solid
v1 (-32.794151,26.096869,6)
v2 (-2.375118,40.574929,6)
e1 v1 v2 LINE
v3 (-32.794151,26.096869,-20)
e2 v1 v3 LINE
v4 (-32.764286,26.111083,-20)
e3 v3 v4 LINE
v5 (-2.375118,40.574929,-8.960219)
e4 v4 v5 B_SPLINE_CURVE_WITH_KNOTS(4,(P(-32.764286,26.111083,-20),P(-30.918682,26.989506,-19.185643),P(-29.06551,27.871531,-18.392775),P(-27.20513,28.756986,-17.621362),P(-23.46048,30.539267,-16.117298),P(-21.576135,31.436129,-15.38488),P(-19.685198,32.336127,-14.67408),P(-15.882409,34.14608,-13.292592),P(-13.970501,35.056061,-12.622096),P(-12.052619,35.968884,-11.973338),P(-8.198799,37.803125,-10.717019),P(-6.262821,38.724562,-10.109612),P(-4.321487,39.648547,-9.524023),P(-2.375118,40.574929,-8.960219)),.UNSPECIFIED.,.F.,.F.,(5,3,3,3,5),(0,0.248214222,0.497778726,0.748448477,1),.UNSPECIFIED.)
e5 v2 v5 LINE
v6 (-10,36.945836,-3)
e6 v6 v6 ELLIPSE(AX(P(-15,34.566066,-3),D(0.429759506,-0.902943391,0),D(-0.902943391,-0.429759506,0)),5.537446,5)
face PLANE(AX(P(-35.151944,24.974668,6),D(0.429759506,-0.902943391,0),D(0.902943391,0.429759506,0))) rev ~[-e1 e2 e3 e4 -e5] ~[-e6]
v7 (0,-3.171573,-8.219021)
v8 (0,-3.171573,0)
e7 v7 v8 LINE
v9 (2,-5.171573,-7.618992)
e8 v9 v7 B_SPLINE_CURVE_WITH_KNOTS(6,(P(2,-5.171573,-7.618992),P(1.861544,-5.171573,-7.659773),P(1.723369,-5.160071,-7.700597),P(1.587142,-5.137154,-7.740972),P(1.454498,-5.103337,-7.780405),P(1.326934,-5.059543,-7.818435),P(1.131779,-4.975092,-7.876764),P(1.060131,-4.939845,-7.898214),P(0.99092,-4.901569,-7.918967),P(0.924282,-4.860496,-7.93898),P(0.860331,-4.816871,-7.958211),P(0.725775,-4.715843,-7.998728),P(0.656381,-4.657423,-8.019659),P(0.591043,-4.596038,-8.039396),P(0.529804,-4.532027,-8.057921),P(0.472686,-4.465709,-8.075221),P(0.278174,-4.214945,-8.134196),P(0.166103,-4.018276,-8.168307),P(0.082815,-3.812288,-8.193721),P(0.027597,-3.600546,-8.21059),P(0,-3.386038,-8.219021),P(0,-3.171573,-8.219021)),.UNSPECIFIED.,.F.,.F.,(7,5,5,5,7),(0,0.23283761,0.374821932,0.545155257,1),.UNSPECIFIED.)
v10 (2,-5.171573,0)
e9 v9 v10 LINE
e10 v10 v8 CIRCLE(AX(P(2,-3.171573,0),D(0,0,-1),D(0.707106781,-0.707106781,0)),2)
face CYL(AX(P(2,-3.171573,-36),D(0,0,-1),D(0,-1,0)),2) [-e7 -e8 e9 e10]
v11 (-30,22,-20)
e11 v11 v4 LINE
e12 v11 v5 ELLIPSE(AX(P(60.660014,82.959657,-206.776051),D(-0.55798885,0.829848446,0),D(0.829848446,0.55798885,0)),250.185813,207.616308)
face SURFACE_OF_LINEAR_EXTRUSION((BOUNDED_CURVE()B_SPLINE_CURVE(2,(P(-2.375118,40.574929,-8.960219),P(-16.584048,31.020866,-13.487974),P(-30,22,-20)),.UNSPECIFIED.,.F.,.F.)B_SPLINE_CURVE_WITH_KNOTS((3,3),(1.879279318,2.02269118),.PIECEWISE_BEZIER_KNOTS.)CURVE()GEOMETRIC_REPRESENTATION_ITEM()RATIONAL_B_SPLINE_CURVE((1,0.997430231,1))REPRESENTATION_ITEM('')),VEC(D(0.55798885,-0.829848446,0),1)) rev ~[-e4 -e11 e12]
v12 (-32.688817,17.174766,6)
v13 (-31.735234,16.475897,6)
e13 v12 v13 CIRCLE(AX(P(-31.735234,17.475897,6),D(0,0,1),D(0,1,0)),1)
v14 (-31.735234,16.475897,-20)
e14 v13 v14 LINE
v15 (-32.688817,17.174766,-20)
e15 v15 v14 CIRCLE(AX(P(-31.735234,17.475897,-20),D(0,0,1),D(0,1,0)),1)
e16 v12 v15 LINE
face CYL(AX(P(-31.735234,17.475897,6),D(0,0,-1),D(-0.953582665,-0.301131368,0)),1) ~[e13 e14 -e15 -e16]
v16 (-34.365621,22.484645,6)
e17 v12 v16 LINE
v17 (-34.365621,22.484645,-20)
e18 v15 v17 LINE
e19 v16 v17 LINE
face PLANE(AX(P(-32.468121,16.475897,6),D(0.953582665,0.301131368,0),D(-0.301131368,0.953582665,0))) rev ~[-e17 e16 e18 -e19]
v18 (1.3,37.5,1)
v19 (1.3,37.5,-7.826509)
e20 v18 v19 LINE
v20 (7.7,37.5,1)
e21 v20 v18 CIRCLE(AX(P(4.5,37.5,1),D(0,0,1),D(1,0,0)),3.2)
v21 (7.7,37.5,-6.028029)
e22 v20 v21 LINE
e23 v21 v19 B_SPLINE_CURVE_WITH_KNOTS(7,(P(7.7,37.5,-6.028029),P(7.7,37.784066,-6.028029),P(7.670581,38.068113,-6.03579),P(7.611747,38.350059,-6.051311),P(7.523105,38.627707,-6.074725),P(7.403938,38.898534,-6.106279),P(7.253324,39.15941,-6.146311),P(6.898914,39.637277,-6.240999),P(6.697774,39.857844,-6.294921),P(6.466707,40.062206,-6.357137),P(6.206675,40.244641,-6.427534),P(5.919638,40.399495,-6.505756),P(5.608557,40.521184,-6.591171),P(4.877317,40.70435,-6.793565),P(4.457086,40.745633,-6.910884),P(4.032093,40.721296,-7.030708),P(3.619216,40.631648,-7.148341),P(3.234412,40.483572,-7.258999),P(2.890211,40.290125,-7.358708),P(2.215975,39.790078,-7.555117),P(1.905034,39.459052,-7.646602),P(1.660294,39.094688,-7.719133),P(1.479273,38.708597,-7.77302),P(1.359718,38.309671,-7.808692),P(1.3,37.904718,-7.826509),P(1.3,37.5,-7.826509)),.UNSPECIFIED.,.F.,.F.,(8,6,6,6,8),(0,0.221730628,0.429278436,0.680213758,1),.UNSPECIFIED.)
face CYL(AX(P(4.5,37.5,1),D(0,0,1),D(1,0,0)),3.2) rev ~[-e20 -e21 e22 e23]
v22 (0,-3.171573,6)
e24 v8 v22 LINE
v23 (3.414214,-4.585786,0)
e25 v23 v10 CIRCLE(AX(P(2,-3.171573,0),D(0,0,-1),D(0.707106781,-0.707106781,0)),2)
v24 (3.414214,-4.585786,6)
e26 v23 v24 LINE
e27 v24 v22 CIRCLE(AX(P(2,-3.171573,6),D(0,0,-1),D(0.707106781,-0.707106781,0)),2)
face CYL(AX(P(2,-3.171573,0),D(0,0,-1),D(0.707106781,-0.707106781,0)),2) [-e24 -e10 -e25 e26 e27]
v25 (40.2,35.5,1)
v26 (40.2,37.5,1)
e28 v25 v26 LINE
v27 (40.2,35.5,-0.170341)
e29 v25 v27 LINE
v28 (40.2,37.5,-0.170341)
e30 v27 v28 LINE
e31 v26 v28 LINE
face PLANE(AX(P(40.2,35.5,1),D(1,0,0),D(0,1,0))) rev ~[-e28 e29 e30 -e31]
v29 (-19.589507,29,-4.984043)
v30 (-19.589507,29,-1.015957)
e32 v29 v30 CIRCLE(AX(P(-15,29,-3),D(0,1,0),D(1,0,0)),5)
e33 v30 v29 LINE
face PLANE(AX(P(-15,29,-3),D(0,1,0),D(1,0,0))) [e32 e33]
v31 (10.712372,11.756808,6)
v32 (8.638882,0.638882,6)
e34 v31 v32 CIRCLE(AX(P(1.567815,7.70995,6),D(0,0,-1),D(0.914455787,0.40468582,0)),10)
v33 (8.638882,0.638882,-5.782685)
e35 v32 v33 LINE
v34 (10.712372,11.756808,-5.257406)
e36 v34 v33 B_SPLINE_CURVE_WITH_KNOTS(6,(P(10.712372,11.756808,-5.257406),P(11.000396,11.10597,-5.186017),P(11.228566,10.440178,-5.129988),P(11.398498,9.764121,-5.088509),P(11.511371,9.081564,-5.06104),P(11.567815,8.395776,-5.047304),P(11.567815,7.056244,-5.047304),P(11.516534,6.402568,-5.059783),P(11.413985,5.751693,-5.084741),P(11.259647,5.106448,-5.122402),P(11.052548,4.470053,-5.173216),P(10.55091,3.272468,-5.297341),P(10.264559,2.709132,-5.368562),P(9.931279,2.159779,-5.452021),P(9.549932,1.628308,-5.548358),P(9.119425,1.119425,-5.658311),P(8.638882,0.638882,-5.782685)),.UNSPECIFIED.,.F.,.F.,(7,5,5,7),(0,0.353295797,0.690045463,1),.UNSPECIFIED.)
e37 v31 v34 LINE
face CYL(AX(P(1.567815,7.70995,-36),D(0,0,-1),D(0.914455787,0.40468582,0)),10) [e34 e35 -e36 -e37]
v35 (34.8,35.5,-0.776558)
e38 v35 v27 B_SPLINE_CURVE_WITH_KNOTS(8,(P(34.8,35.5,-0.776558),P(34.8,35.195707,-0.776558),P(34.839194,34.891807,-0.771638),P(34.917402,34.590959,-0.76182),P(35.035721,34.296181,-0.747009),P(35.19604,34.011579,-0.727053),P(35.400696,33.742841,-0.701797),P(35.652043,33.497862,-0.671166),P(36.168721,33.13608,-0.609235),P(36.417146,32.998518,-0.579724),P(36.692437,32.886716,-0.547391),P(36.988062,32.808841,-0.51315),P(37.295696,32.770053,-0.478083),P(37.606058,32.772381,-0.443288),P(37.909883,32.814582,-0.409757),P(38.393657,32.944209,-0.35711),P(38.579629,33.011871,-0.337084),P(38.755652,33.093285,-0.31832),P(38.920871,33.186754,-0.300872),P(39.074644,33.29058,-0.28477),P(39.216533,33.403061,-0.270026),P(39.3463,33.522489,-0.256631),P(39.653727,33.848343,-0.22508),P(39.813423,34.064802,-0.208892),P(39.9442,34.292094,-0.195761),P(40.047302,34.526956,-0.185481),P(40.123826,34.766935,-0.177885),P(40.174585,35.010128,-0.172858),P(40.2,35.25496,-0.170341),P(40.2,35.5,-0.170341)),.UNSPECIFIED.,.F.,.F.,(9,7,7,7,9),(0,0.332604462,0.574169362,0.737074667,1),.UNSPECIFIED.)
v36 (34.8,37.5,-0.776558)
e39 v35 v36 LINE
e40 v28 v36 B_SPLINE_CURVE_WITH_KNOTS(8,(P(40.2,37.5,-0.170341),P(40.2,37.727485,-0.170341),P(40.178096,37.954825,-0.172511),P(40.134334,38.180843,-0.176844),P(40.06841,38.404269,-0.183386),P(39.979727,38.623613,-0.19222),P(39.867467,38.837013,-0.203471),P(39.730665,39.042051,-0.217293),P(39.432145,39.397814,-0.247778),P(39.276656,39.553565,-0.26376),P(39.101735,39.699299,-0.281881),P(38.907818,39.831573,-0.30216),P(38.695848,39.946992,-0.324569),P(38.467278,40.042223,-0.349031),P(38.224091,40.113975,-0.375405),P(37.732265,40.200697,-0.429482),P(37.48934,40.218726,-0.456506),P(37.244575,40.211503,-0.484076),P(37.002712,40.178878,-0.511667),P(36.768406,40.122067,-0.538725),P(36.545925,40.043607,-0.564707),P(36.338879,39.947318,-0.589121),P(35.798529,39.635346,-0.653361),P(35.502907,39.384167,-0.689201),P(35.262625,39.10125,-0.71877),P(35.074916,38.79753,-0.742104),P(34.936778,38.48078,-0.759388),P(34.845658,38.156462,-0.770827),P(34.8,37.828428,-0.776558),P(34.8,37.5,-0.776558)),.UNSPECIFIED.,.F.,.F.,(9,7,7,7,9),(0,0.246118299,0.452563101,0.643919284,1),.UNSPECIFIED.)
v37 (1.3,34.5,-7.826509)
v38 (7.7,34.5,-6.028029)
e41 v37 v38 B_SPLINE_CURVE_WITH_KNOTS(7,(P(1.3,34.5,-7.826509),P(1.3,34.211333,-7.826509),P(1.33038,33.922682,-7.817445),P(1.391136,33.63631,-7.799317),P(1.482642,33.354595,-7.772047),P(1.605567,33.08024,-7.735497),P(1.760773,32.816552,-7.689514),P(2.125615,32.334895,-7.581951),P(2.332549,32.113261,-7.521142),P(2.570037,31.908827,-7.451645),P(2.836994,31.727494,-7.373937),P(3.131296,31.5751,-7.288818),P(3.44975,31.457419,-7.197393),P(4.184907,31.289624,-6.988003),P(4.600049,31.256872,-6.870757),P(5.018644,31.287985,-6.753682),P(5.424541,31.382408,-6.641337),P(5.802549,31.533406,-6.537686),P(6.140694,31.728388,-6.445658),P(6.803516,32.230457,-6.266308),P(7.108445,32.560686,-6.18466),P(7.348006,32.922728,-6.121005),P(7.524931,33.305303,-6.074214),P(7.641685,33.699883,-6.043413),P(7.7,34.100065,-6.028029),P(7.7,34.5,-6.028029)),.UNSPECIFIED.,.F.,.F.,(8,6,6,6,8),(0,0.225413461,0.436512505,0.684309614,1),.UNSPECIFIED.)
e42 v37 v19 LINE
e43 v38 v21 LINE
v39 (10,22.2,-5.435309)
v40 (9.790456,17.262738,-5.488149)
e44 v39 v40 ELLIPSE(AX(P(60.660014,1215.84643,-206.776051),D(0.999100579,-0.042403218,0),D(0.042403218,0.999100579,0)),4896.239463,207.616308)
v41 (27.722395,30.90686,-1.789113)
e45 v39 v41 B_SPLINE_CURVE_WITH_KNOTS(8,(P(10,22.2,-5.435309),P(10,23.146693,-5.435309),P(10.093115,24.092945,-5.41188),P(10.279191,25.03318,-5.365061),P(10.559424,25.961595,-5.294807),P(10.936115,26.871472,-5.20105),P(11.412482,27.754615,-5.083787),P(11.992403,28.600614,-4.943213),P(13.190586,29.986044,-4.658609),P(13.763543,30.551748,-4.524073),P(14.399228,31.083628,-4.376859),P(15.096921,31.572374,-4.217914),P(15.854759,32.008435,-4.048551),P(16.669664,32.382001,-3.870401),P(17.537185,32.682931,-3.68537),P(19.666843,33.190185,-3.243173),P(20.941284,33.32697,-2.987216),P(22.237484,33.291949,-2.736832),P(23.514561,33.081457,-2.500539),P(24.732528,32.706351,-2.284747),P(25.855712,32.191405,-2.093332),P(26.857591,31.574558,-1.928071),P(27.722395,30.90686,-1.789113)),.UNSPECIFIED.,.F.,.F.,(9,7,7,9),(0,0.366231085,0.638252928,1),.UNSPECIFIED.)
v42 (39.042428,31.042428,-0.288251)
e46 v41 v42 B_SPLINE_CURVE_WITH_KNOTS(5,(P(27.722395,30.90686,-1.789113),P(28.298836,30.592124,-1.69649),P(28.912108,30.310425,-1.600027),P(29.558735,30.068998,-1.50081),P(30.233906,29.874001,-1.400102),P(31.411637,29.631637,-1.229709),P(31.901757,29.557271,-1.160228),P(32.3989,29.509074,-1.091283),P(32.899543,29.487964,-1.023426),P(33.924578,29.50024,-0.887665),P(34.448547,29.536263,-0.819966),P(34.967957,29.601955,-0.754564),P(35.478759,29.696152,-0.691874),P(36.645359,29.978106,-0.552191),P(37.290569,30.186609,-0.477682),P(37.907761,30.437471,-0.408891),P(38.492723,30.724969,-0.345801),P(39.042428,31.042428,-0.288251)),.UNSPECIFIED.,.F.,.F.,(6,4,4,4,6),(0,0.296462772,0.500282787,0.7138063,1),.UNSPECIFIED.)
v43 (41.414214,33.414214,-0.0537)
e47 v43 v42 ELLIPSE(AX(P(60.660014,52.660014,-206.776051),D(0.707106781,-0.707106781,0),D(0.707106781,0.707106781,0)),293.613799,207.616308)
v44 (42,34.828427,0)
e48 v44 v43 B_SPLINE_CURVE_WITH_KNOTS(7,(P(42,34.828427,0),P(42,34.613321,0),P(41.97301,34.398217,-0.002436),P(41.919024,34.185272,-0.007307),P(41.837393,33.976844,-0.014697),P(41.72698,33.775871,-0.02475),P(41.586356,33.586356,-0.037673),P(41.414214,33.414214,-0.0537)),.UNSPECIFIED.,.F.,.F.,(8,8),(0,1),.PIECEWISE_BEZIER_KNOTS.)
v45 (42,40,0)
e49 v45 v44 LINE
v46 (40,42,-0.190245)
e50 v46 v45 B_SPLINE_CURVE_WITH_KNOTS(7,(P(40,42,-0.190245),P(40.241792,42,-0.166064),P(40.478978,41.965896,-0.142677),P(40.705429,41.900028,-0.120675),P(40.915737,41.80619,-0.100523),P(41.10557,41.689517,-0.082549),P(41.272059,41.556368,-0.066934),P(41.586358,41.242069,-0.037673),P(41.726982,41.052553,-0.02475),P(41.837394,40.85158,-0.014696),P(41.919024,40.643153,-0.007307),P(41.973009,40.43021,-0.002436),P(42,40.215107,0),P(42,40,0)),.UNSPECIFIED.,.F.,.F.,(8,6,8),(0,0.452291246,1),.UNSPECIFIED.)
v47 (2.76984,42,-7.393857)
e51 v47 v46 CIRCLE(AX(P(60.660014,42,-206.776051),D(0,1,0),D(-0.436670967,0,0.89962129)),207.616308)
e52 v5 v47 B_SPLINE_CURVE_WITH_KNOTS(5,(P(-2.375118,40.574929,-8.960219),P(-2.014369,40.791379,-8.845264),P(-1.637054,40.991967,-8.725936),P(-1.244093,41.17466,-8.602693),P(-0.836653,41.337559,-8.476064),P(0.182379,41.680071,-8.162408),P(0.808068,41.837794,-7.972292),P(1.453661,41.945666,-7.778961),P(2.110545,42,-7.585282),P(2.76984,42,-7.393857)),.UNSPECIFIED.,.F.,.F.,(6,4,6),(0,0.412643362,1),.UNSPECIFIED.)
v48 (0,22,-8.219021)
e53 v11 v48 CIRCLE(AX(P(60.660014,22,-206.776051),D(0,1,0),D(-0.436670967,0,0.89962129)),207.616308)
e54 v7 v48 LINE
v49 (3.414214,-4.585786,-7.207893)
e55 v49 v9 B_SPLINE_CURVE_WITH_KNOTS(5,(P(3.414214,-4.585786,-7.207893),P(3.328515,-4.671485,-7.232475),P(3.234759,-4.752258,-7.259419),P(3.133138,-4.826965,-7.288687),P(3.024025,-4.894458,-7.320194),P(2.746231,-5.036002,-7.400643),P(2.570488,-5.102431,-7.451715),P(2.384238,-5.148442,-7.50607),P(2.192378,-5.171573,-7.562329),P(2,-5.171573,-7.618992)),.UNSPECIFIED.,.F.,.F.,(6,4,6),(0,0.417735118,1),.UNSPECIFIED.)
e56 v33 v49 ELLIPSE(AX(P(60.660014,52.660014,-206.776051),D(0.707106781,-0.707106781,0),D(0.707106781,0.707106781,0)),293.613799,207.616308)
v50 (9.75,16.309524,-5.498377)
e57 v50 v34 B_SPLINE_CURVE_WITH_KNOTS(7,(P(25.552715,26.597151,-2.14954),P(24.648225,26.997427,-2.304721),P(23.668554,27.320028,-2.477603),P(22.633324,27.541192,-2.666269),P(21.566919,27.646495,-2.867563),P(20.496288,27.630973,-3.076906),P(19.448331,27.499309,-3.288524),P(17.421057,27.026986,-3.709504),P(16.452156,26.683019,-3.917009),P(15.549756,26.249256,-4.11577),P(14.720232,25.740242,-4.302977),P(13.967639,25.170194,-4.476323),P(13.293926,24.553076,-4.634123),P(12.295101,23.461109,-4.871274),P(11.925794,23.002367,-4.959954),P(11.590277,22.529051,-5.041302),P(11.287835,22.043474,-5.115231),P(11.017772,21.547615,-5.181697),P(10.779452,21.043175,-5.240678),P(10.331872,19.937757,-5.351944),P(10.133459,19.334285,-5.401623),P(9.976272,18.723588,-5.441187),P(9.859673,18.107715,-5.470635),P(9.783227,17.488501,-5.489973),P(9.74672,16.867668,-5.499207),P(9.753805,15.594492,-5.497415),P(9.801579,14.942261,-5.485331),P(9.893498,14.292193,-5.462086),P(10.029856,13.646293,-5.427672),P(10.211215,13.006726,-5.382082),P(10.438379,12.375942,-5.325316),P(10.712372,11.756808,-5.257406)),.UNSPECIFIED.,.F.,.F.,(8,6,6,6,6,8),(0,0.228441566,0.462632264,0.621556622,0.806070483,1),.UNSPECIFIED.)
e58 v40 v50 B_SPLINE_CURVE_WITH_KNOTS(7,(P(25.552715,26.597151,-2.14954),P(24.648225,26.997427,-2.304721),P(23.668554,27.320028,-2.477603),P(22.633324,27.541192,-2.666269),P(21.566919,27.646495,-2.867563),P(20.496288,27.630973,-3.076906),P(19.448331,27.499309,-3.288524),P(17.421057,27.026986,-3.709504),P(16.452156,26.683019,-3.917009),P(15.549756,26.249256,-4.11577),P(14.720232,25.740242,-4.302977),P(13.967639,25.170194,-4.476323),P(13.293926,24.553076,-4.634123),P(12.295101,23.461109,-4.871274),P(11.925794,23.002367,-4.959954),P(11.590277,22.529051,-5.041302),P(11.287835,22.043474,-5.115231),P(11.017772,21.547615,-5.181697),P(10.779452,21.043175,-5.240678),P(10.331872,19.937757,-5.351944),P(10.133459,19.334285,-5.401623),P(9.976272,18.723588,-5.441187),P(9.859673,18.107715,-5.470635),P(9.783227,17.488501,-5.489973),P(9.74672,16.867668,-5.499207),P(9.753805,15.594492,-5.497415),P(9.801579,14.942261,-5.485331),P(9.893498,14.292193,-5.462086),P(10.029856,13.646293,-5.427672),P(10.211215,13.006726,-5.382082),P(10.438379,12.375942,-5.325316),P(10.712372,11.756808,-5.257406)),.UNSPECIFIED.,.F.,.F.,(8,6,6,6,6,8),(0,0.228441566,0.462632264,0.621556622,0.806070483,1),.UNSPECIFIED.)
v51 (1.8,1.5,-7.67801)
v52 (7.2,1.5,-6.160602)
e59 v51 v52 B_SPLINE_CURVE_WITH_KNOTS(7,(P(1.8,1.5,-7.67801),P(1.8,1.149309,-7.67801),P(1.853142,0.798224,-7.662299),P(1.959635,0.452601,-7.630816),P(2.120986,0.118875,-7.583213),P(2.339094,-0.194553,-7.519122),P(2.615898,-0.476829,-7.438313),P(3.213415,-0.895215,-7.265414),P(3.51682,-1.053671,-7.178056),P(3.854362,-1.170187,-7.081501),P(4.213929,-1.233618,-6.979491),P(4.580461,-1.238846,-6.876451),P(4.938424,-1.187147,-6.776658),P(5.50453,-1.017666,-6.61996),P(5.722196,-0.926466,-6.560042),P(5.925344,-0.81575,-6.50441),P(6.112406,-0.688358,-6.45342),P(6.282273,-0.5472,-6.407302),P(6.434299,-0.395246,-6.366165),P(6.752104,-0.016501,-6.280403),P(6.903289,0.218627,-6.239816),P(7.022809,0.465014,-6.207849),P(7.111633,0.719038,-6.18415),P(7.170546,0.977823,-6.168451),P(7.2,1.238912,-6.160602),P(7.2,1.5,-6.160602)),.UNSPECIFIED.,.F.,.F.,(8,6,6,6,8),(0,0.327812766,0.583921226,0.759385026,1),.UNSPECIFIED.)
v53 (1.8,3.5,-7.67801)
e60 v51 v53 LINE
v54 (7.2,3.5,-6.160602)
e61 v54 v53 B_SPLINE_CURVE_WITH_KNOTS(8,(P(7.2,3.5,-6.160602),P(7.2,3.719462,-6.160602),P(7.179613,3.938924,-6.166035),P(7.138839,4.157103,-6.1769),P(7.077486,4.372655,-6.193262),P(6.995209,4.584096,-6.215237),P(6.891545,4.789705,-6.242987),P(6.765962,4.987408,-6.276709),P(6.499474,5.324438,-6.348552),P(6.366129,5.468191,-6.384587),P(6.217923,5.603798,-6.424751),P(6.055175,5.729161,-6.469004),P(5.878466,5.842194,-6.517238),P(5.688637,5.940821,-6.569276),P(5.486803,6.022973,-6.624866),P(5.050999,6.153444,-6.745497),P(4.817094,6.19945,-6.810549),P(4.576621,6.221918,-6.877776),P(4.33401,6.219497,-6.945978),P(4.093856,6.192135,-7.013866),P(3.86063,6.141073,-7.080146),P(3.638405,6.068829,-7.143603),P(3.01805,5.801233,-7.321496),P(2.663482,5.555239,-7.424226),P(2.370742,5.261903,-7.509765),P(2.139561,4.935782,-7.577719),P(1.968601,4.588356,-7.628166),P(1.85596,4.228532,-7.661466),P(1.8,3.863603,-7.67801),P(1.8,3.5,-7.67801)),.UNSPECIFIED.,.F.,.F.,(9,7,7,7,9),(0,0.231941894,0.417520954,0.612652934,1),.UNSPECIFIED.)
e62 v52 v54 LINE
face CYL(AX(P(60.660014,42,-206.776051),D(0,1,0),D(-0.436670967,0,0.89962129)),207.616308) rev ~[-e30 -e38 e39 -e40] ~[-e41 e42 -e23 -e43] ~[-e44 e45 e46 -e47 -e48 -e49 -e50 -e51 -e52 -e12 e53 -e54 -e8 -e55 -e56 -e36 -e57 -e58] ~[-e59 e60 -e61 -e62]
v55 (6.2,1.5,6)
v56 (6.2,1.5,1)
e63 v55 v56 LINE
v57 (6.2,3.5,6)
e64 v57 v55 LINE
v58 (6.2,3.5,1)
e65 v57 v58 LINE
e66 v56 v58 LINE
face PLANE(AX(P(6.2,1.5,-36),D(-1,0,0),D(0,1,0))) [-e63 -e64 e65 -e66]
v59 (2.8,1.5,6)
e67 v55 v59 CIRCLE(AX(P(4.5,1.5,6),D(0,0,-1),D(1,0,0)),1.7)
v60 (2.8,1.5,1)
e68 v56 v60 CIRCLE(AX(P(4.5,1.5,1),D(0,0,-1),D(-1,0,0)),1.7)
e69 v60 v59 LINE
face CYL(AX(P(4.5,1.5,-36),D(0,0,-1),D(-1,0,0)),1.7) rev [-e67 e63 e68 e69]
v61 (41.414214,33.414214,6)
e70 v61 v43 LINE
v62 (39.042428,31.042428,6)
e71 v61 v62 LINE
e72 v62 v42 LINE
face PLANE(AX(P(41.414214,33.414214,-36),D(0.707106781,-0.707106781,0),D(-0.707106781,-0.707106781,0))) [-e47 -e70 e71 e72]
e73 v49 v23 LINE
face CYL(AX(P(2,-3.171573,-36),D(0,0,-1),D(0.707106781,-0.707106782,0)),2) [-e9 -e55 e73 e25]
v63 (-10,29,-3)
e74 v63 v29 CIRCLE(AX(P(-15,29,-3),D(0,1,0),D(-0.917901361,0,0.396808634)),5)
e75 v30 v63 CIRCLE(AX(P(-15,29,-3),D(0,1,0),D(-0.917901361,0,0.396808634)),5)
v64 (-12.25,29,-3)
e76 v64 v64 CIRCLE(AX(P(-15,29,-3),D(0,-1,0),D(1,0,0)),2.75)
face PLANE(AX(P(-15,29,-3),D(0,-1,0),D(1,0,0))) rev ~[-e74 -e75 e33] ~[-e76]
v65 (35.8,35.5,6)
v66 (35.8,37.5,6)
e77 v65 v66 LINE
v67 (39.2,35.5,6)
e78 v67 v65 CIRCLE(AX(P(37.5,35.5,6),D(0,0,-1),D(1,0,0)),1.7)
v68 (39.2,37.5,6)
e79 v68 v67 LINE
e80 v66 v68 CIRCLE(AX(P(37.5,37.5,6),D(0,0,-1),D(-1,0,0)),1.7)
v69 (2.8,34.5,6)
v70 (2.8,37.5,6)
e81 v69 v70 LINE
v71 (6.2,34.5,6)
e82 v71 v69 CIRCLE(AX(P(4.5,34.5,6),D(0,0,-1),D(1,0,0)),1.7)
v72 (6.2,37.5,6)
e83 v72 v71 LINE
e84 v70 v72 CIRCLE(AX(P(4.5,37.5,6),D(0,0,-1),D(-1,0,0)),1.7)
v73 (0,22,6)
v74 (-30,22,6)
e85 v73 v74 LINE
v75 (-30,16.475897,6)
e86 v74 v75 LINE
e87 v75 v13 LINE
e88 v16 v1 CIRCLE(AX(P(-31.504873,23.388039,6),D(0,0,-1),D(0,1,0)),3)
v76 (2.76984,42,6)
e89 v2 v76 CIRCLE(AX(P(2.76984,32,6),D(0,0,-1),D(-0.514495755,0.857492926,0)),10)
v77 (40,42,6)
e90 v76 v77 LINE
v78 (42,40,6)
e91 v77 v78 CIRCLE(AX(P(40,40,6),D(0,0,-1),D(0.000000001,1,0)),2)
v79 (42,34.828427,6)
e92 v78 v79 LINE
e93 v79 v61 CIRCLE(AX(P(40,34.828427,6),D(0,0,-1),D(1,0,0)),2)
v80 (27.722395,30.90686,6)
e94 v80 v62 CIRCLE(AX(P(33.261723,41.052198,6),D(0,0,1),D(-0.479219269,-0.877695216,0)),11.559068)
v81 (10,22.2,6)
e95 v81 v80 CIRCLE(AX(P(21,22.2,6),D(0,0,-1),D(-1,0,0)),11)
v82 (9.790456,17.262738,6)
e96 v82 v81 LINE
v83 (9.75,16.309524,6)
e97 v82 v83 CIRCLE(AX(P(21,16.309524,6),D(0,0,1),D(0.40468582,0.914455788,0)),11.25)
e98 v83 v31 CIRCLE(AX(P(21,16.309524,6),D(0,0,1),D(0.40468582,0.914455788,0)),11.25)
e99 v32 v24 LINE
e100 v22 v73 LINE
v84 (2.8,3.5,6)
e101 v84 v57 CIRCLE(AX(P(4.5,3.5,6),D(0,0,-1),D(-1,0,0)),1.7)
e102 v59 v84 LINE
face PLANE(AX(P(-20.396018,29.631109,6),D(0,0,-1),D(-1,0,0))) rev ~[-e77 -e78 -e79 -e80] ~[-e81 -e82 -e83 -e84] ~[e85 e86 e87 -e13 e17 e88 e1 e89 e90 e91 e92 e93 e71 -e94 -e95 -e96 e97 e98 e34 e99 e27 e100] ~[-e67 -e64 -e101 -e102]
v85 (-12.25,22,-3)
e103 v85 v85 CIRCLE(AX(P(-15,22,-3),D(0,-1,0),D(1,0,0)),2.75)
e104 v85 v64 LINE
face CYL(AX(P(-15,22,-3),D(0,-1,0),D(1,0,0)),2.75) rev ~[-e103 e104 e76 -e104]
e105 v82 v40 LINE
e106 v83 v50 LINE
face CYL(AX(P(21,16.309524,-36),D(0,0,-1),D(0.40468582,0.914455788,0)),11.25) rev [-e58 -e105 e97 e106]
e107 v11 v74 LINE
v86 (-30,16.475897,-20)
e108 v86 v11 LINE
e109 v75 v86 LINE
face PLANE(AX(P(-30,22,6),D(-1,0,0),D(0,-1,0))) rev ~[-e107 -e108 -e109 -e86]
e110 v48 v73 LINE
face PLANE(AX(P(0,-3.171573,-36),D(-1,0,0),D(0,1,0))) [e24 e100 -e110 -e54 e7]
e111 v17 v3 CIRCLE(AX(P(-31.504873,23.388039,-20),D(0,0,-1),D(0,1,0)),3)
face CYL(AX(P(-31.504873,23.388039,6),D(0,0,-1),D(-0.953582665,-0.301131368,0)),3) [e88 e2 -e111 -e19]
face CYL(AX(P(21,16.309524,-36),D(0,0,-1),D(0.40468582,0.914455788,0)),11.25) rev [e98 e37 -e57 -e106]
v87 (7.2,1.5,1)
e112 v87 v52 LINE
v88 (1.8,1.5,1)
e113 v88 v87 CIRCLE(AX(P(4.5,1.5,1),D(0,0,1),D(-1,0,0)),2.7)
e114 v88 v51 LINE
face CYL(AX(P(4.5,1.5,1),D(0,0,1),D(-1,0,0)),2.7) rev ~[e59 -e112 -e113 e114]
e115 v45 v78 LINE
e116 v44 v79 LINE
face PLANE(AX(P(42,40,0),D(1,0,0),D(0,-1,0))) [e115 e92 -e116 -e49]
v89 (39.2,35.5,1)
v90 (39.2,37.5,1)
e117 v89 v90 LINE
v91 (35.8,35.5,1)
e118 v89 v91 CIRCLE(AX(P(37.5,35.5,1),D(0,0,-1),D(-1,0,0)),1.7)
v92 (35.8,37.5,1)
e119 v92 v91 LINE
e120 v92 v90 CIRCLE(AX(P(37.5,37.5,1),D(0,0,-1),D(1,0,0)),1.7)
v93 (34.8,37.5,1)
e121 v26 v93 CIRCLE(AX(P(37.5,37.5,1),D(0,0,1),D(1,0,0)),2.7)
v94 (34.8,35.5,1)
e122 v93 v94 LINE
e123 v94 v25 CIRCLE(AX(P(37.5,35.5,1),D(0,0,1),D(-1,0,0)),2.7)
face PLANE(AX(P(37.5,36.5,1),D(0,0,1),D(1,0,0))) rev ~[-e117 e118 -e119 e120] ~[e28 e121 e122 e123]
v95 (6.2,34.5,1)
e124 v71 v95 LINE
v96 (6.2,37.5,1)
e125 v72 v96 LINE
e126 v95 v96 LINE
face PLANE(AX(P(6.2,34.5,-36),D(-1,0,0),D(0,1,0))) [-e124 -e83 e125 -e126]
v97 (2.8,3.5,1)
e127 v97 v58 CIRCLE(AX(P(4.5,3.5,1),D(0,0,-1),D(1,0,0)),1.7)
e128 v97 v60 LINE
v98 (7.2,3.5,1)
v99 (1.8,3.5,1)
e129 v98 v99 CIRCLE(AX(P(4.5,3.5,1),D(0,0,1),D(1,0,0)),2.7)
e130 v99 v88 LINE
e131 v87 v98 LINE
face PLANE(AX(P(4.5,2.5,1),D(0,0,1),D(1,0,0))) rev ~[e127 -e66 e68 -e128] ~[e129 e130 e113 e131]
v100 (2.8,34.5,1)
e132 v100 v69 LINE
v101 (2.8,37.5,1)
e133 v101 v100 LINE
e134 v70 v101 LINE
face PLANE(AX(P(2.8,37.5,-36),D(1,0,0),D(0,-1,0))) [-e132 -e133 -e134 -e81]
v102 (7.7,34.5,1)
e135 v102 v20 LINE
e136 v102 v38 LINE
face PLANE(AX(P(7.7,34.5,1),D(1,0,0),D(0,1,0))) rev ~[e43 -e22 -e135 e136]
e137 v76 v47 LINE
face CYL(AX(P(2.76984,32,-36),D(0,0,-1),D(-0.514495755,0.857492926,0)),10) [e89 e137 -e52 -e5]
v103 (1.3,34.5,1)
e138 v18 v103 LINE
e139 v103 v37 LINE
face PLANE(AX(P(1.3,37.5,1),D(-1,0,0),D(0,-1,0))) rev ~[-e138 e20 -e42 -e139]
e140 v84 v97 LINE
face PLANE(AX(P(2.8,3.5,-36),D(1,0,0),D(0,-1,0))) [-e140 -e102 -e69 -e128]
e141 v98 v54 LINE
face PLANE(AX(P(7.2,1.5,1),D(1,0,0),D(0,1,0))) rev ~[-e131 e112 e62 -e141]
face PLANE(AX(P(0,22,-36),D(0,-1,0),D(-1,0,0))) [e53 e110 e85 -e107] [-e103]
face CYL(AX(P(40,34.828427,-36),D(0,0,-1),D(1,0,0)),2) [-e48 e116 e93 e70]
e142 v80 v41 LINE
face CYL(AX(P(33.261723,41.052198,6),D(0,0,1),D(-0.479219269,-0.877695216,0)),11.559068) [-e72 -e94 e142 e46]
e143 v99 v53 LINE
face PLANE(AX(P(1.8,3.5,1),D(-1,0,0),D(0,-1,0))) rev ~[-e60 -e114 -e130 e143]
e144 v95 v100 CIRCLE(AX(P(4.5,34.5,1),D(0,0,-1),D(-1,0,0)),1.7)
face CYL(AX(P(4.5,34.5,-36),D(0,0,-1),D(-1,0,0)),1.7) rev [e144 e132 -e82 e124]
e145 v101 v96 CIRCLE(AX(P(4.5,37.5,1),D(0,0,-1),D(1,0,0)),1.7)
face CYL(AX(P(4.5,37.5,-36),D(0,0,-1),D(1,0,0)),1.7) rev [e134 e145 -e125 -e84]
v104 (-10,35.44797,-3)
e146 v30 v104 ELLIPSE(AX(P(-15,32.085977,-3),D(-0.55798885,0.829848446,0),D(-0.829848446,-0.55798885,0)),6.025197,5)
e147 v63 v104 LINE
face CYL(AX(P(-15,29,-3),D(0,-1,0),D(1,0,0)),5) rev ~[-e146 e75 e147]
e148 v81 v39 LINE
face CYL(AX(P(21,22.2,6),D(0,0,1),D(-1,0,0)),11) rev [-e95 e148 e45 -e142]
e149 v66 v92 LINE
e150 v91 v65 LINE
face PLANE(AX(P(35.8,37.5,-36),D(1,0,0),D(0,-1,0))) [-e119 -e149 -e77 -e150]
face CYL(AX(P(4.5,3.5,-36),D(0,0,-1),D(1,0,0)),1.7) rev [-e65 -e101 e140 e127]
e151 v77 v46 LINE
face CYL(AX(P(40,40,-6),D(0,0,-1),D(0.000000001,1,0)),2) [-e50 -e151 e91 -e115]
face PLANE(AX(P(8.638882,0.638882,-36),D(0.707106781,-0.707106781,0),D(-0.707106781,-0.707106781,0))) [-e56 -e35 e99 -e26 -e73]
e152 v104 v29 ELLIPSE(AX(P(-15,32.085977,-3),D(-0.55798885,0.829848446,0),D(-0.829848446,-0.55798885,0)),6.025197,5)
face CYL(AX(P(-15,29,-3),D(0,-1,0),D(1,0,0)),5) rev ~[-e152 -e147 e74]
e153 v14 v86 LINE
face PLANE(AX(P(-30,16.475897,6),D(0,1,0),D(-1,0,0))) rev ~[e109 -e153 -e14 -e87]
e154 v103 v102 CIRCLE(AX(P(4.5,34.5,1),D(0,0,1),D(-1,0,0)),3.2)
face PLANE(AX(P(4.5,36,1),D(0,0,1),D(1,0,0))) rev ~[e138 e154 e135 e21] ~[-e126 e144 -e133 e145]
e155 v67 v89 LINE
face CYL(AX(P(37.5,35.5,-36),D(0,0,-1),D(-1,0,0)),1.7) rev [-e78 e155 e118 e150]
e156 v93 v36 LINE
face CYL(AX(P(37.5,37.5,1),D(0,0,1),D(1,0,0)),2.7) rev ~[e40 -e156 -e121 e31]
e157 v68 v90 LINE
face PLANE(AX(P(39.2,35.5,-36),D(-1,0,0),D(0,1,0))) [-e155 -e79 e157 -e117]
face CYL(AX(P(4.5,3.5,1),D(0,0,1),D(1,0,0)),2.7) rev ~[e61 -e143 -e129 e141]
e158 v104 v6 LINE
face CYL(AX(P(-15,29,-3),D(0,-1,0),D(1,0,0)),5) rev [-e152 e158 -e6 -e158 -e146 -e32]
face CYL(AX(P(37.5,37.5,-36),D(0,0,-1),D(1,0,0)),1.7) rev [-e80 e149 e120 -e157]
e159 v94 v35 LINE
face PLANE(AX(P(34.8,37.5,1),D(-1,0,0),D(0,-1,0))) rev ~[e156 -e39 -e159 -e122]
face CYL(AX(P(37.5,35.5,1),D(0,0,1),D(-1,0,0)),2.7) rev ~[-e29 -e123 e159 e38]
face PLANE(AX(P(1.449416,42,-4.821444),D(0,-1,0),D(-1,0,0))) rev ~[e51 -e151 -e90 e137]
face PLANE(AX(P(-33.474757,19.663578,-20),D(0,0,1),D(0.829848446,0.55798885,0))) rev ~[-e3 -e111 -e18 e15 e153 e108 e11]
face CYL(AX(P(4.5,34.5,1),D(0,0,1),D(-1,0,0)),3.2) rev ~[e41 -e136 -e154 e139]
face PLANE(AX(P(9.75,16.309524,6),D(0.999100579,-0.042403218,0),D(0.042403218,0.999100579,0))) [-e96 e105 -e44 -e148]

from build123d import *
from build123d.topology import SkipClean

# Parameters (mm, degrees)
RESSALTO_EXTRUS_O1_DEPTH = 6
RESSALTO_EXTRUS_O2_DEPTH = 47.171573
CORTE_EXTRUS_O1_START    = -36
CORTE_EXTRUS_O1_DEPTH    = 36
CORTE_EXTRUS_O2_START    = -6
CORTE_EXTRUS_O2_DEPTH    = 6
CORTE_EXTRUS_O3_DEPTH    = 64.000000167
ESBO_O6_R                = 2.75
CORTE_EXTRUS_O4_DEPTH    = 54.872946739
ESBO_O7_R                = 5
CORTE_EXTRUS_O5_DEPTH    = 16
RESSALTO_EXTRUS_O3_DEPTH = 56
CORTE_EXTRUS_O6_DEPTH    = 56
ESBO_O10_W               = 30
ESBO_O10_H               = 4.954017116
CORTE_EXTRUS_O7_DEPTH    = 56
ESBO_O11_W               = 2.729993951
ESBO_O11_H               = 30
CORTE_EXTRUS_O8_DEPTH    = 56
ESBO_O12_W               = 4.187219241
ESBO_O12_H               = 30
CORTE_EXTRUS_O9_DEPTH    = 56
ESBO_O13_R               = 7.968110823
CORTE_EXTRUS_O10_DEPTH   = 56
FILETE1_R                = 3
FILETE2_R                = 1
ESBO_O14_R               = 5
CORTE_EXTRUS_O11_DEPTH   = 56
CORTE_EXTRUS_O12_DEPTH   = 65.838260479


with BuildPart() as part:
    # Esboço1 → Ressalto-extrusão1 (new body)
    with BuildSketch(Plane.XY):
        with BuildLine():
            Line((-30, 24), (-2.375117905, 40.574929257))
            ThreePointArc((-2.375117905, 40.574929257), (0.100503831, 41.637149282), (2.769839649, 42))
            Line((2.769839649, 42), (40, 42))
            ThreePointArc((40, 42), (41.414213562, 41.414213562), (42, 40))
            Line((42, 40), (42, 34.828427125))
            ThreePointArc((42, 34.828427125), (41.847759065, 34.06306026), (41.414213562, 33.414213562))
            Line((41.414213562, 33.414213562), (36.670641482, 28.670641482))
            ThreePointArc((36.670641482, 28.670641482), (31.432958847, 25.911210894), (25.552715472, 26.597151419))
            ThreePointArc((25.552715472, 26.597151419), (13.045048712, 24.264475098), (10.712372391, 11.756808337))
            ThreePointArc((10.712372391, 11.756808337), (11.398312916, 5.876564962), (8.638882328, 0.638882328))
            Line((8.638882328, 0.638882328), (8, 0))
            Line((8, 0), (6.2, -1.8))
            Line((6.2, -1.8), (3.414213562, -4.585786438))
            ThreePointArc((3.414213562, -4.585786438), (1.234633135, -5.01933194), (0, -3.171572875))
            Line((0, -3.171572875), (0, 0))
            Line((0, 0), (0, 22))
            Line((0, 22), (-30, 22))
            Line((-30, 22), (-30, 24))
        make_face()
        with BuildLine():
            Line((6.2, 37.5), (6.2, 34.5))
            ThreePointArc((6.2, 34.5), (4.5, 32.8), (2.8, 34.5))
            Line((2.8, 34.5), (2.8, 37.5))
            ThreePointArc((2.8, 37.5), (4.5, 39.2), (6.2, 37.5))
        make_face(mode=Mode.SUBTRACT)
        with BuildLine():
            Line((39.2, 37.5), (39.2, 35.5))
            ThreePointArc((39.2, 35.5), (37.5, 33.8), (35.8, 35.5))
            Line((35.8, 35.5), (35.8, 37.5))
            ThreePointArc((35.8, 37.5), (37.5, 39.2), (39.2, 37.5))
        make_face(mode=Mode.SUBTRACT)
        with BuildLine():
            Line((6.2, 3.5), (6.2, 1.5))
            ThreePointArc((6.2, 1.5), (4.5, -0.2), (2.8, 1.5))
            Line((2.8, 1.5), (2.8, 3.5))
            ThreePointArc((2.8, 3.5), (4.5, 5.2), (6.2, 3.5))
        make_face(mode=Mode.SUBTRACT)
    extrude(amount=RESSALTO_EXTRUS_O1_DEPTH)

    # Esboço2 → Ressalto-extrusão2 (add, through all)
    with BuildSketch(Plane(origin=(0, 42, 0), x_dir=(1, 0, 0), z_dir=(0, 1, 0))):
        with BuildLine():
            Line((-30, 0), (-30, 20))
            ThreePointArc((-30, 20), (5.092783278, 6.734019802), (42, 0))
            Line((42, 0), (-30, 0))
        make_face()
    extrude(amount=-RESSALTO_EXTRUS_O2_DEPTH)

    # Esboço3 → Corte-extrusão1 (cut)
    with BuildSketch(Plane.XY.offset(CORTE_EXTRUS_O1_START)):
        with BuildLine():
            ThreePointArc((2.8, 34.5), (4.5, 32.8), (6.2, 34.5))
            Line((6.2, 34.5), (6.2, 37.5))
            ThreePointArc((6.2, 37.5), (4.5, 39.2), (2.8, 37.5))
            Line((2.8, 37.5), (2.8, 34.5))
        make_face()
        with BuildLine():
            Line((0, -3.171572875), (0, 22))
            Line((0, 22), (-30, 22))
            Line((-30, 22), (-30, -5.171572875))
            Line((-30, -5.171572875), (2, -5.171572875))
            ThreePointArc((2, -5.171572875), (0.585786438, -4.585786438), (0, -3.171572875))
        make_face()
        with BuildLine():
            ThreePointArc((3.414213562, -4.585786438), (2.765366865, -5.01933194), (2, -5.171572875))
            Line((2, -5.171572875), (42, -5.171572875))
            Line((42, -5.171572875), (42, 34.828427125))
            ThreePointArc((42, 34.828427125), (41.847759065, 34.06306026), (41.414213562, 33.414213562))
            Line((41.414213562, 33.414213562), (36.670641482, 28.670641482))
            ThreePointArc((36.670641482, 28.670641482), (31.432958847, 25.911210894), (25.552715472, 26.597151419))
            ThreePointArc((25.552715472, 26.597151419), (13.045048712, 24.264475098), (10.712372391, 11.756808337))
            ThreePointArc((10.712372391, 11.756808337), (11.398312916, 5.876564962), (8.638882328, 0.638882328))
            Line((8.638882328, 0.638882328), (3.414213562, -4.585786438))
        make_face()
        with BuildLine():
            ThreePointArc((35.8, 35.5), (37.5, 33.8), (39.2, 35.5))
            Line((39.2, 35.5), (39.2, 37.5))
            ThreePointArc((39.2, 37.5), (37.5, 39.2), (35.8, 37.5))
            Line((35.8, 37.5), (35.8, 35.5))
        make_face()
        with BuildLine():
            ThreePointArc((2.8, 1.5), (4.5, -0.2), (6.2, 1.5))
            Line((6.2, 1.5), (6.2, 3.5))
            ThreePointArc((6.2, 3.5), (4.5, 5.2), (2.8, 3.5))
            Line((2.8, 3.5), (2.8, 1.5))
        make_face()
        with BuildLine():
            Line((-30, 42), (-30, 24))
            Line((-30, 24), (-2.375117905, 40.574929257))
            ThreePointArc((-2.375117905, 40.574929257), (0.100503831, 41.637149282), (2.769839649, 42))
            Line((2.769839649, 42), (-30, 42))
        make_face()
    extrude(amount=CORTE_EXTRUS_O1_DEPTH, mode=Mode.SUBTRACT)

    # Esboço4 → Corte-extrusão2 (cut)
    with BuildSketch(Plane.XY.offset(CORTE_EXTRUS_O2_START)):
        with BuildLine():
            Line((42, 40), (42, 42))
            Line((42, 42), (40, 42))
            ThreePointArc((40, 42), (41.414213562, 41.414213562), (42, 40))
        make_face()
    extrude(amount=CORTE_EXTRUS_O2_DEPTH, mode=Mode.SUBTRACT)

    # Esboço5 → Corte-extrusão3 (cut, through all)
    with BuildSketch(Plane.XY.offset(1)):
        with BuildLine():
            Line((1.3, 37.5), (1.3, 34.5))
            ThreePointArc((1.3, 34.5), (4.5, 31.3), (7.7, 34.5))
            Line((7.7, 34.5), (7.7, 37.5))
            ThreePointArc((7.7, 37.5), (4.5, 40.7), (1.3, 37.5))
        make_face()
        with BuildLine():
            Line((40.2, 35.5), (40.2, 37.5))
            ThreePointArc((40.2, 37.5), (37.5, 40.2), (34.8, 37.5))
            Line((34.8, 37.5), (34.8, 35.5))
            ThreePointArc((34.8, 35.5), (37.5, 32.8), (40.2, 35.5))
        make_face()
        with BuildLine():
            Line((1.8, 3.5), (1.8, 1.5))
            ThreePointArc((1.8, 1.5), (4.5, -1.2), (7.2, 1.5))
            Line((7.2, 1.5), (7.2, 3.5))
            ThreePointArc((7.2, 3.5), (4.5, 6.2), (1.8, 3.5))
        make_face()
    extrude(amount=-CORTE_EXTRUS_O3_DEPTH, mode=Mode.SUBTRACT)

    # Esboço6 → Corte-extrusão4 (cut, through all)
    with BuildSketch(Plane.XZ.offset(-22)):
        with Locations((-15, -3)):
            Circle(ESBO_O6_R)
    extrude(amount=-CORTE_EXTRUS_O4_DEPTH, mode=Mode.SUBTRACT)

    # Esboço7 → Corte-extrusão5 (cut)
    with BuildSketch(Plane(origin=(0, 29, 0), x_dir=(-1, 0, 0), z_dir=(0, -1, 0))):
        with Locations(Location((15, 3, 0), (0, 0, 180))):
            Circle(ESBO_O7_R)
    extrude(amount=-CORTE_EXTRUS_O5_DEPTH, mode=Mode.SUBTRACT)

    # Esboço8 → Ressalto-extrusão3 (add)
    with BuildSketch(Plane.XY.offset(6)):
        Polygon((-30, 22), (-30, 16.475897374), (-32.468121282, 16.475897374), (-35.151943697, 24.974668355), (-2.375117905, 40.574929257), align=None)
    extrude(amount=-RESSALTO_EXTRUS_O3_DEPTH)

    # Esboço9 → Corte-extrusão6 (cut)
    with BuildSketch(Plane(origin=(-19.527562648, 29.041651157, 0), x_dir=(0.8298484461977135, 0.5579888496585221, 0), z_dir=(0.5579888496585221, -0.8298484461977135, 0))):
        with BuildLine():
            Line((20.669370198, -50), (20.669370198, -8.960218673))
            add(Edge.make_bspline(
                [(20.669370198, -8.960218673), (3.547051305, -13.487974371), (-12.619698693, -20)],
                knots=[1.879279318, 1.879279318, 1.879279318, 2.02269118, 2.02269118, 2.02269118], degree=2, weights=[1, 0.997430231, 1]))
            Line((-12.619698693, -20), (-12.619698693, -50))
            Line((-12.619698693, -50), (20.669370198, -50))
        make_face()
    extrude(amount=-CORTE_EXTRUS_O6_DEPTH, mode=Mode.SUBTRACT)

    # Esboço10 → Corte-extrusão7 (cut)
    with BuildSketch(Plane(origin=(-10.472437352, -7.041651157, 0), x_dir=(0, 0, -1), z_dir=(0.8298484461977135, 0.5579888496585221, 1.5073885260129385e-15))):
        with Locations((35, 37.473339864)):
            Rectangle(ESBO_O10_W, ESBO_O10_H)
    extrude(amount=-CORTE_EXTRUS_O7_DEPTH, mode=Mode.SUBTRACT)

    # Esboço11 → Corte-extrusão8 (cut)
    with BuildSketch(Plane(origin=(-22.291848959, 33.152734563, 0), x_dir=(0.8298484461977135, 0.5579888496585221, 0), z_dir=(0.5579888496585221, -0.8298484461977135, 0))):
        with Locations((-13.984695669, -35)):
            Rectangle(ESBO_O11_W, ESBO_O11_H)
    extrude(amount=-CORTE_EXTRUS_O8_DEPTH, mode=Mode.SUBTRACT)

    # Esboço12 → Corte-extrusão9 (cut)
    with BuildSketch(Plane(origin=(-19.527562648, 29.041651157, 0), x_dir=(0.8298484461977135, 0.5579888496585221, 0), z_dir=(-0.5579888496585221, 0.8298484461977135, 0))):
        with Locations((-14.713308314, 35)):
            Rectangle(ESBO_O12_W, ESBO_O12_H)
    extrude(amount=-CORTE_EXTRUS_O9_DEPTH, mode=Mode.SUBTRACT)

    # Esboço13 → Corte-extrusão10 (cut)
    with BuildSketch(Plane(origin=(0, 0, -20), x_dir=(-1, 0, 0), z_dir=(0, 0, -1))):
        with Locations((34.361612589, 20.650995678)):
            Circle(ESBO_O13_R)
    extrude(amount=CORTE_EXTRUS_O10_DEPTH, mode=Mode.SUBTRACT)

    # Filete1
    filete1_edges = [part.edges().sort_by_distance(p)[0] for p in [
        (-35.151943697, 24.974668355, -7),
    ]]
    fillet(filete1_edges, radius=FILETE1_R)

    # Filete2
    filete2_edges = [part.edges().sort_by_distance(p)[0] for p in [
        (-32.468121282, 16.475897374, -7),
    ]]
    fillet(filete2_edges, radius=FILETE2_R)

    # Esboço14 → Corte-extrusão11 (cut)
    with SkipClean():  # the faces are left unmerged after this step: merging them gives an invalid solid
        with BuildSketch(Plane(origin=(0, 29, 0), x_dir=(1, 0, 0), z_dir=(0, 1, 0))):
            with Locations((-15, 3)):
                Circle(ESBO_O14_R)
        extrude(amount=CORTE_EXTRUS_O11_DEPTH, mode=Mode.SUBTRACT)

    # Esboço15 → Corte-extrusão12 (cut, through all)
    with SkipClean():  # the faces are left unmerged after this step: merging them gives an invalid solid
        with BuildSketch(Plane.XY.offset(6)):
            with BuildLine():
                Line((9.75, 16.30952381), (10, 22.2))
                ThreePointArc((10, 22.2), (16.149553965, 32.072850311), (27.722395139, 30.906859571))
                ThreePointArc((27.722395139, 30.906859571), (33.400143909, 29.493959096), (39.042427522, 31.042427522))
                Line((39.042427522, 31.042427522), (40.056737405, 6.935592927))
                Line((40.056737405, 6.935592927), (14.498143353, 9.675700977))
                Line((14.498143353, 9.675700977), (9.75, 16.30952381))
            make_face()
        extrude(amount=-CORTE_EXTRUS_O12_DEPTH, mode=Mode.SUBTRACT)


solid = part.part
